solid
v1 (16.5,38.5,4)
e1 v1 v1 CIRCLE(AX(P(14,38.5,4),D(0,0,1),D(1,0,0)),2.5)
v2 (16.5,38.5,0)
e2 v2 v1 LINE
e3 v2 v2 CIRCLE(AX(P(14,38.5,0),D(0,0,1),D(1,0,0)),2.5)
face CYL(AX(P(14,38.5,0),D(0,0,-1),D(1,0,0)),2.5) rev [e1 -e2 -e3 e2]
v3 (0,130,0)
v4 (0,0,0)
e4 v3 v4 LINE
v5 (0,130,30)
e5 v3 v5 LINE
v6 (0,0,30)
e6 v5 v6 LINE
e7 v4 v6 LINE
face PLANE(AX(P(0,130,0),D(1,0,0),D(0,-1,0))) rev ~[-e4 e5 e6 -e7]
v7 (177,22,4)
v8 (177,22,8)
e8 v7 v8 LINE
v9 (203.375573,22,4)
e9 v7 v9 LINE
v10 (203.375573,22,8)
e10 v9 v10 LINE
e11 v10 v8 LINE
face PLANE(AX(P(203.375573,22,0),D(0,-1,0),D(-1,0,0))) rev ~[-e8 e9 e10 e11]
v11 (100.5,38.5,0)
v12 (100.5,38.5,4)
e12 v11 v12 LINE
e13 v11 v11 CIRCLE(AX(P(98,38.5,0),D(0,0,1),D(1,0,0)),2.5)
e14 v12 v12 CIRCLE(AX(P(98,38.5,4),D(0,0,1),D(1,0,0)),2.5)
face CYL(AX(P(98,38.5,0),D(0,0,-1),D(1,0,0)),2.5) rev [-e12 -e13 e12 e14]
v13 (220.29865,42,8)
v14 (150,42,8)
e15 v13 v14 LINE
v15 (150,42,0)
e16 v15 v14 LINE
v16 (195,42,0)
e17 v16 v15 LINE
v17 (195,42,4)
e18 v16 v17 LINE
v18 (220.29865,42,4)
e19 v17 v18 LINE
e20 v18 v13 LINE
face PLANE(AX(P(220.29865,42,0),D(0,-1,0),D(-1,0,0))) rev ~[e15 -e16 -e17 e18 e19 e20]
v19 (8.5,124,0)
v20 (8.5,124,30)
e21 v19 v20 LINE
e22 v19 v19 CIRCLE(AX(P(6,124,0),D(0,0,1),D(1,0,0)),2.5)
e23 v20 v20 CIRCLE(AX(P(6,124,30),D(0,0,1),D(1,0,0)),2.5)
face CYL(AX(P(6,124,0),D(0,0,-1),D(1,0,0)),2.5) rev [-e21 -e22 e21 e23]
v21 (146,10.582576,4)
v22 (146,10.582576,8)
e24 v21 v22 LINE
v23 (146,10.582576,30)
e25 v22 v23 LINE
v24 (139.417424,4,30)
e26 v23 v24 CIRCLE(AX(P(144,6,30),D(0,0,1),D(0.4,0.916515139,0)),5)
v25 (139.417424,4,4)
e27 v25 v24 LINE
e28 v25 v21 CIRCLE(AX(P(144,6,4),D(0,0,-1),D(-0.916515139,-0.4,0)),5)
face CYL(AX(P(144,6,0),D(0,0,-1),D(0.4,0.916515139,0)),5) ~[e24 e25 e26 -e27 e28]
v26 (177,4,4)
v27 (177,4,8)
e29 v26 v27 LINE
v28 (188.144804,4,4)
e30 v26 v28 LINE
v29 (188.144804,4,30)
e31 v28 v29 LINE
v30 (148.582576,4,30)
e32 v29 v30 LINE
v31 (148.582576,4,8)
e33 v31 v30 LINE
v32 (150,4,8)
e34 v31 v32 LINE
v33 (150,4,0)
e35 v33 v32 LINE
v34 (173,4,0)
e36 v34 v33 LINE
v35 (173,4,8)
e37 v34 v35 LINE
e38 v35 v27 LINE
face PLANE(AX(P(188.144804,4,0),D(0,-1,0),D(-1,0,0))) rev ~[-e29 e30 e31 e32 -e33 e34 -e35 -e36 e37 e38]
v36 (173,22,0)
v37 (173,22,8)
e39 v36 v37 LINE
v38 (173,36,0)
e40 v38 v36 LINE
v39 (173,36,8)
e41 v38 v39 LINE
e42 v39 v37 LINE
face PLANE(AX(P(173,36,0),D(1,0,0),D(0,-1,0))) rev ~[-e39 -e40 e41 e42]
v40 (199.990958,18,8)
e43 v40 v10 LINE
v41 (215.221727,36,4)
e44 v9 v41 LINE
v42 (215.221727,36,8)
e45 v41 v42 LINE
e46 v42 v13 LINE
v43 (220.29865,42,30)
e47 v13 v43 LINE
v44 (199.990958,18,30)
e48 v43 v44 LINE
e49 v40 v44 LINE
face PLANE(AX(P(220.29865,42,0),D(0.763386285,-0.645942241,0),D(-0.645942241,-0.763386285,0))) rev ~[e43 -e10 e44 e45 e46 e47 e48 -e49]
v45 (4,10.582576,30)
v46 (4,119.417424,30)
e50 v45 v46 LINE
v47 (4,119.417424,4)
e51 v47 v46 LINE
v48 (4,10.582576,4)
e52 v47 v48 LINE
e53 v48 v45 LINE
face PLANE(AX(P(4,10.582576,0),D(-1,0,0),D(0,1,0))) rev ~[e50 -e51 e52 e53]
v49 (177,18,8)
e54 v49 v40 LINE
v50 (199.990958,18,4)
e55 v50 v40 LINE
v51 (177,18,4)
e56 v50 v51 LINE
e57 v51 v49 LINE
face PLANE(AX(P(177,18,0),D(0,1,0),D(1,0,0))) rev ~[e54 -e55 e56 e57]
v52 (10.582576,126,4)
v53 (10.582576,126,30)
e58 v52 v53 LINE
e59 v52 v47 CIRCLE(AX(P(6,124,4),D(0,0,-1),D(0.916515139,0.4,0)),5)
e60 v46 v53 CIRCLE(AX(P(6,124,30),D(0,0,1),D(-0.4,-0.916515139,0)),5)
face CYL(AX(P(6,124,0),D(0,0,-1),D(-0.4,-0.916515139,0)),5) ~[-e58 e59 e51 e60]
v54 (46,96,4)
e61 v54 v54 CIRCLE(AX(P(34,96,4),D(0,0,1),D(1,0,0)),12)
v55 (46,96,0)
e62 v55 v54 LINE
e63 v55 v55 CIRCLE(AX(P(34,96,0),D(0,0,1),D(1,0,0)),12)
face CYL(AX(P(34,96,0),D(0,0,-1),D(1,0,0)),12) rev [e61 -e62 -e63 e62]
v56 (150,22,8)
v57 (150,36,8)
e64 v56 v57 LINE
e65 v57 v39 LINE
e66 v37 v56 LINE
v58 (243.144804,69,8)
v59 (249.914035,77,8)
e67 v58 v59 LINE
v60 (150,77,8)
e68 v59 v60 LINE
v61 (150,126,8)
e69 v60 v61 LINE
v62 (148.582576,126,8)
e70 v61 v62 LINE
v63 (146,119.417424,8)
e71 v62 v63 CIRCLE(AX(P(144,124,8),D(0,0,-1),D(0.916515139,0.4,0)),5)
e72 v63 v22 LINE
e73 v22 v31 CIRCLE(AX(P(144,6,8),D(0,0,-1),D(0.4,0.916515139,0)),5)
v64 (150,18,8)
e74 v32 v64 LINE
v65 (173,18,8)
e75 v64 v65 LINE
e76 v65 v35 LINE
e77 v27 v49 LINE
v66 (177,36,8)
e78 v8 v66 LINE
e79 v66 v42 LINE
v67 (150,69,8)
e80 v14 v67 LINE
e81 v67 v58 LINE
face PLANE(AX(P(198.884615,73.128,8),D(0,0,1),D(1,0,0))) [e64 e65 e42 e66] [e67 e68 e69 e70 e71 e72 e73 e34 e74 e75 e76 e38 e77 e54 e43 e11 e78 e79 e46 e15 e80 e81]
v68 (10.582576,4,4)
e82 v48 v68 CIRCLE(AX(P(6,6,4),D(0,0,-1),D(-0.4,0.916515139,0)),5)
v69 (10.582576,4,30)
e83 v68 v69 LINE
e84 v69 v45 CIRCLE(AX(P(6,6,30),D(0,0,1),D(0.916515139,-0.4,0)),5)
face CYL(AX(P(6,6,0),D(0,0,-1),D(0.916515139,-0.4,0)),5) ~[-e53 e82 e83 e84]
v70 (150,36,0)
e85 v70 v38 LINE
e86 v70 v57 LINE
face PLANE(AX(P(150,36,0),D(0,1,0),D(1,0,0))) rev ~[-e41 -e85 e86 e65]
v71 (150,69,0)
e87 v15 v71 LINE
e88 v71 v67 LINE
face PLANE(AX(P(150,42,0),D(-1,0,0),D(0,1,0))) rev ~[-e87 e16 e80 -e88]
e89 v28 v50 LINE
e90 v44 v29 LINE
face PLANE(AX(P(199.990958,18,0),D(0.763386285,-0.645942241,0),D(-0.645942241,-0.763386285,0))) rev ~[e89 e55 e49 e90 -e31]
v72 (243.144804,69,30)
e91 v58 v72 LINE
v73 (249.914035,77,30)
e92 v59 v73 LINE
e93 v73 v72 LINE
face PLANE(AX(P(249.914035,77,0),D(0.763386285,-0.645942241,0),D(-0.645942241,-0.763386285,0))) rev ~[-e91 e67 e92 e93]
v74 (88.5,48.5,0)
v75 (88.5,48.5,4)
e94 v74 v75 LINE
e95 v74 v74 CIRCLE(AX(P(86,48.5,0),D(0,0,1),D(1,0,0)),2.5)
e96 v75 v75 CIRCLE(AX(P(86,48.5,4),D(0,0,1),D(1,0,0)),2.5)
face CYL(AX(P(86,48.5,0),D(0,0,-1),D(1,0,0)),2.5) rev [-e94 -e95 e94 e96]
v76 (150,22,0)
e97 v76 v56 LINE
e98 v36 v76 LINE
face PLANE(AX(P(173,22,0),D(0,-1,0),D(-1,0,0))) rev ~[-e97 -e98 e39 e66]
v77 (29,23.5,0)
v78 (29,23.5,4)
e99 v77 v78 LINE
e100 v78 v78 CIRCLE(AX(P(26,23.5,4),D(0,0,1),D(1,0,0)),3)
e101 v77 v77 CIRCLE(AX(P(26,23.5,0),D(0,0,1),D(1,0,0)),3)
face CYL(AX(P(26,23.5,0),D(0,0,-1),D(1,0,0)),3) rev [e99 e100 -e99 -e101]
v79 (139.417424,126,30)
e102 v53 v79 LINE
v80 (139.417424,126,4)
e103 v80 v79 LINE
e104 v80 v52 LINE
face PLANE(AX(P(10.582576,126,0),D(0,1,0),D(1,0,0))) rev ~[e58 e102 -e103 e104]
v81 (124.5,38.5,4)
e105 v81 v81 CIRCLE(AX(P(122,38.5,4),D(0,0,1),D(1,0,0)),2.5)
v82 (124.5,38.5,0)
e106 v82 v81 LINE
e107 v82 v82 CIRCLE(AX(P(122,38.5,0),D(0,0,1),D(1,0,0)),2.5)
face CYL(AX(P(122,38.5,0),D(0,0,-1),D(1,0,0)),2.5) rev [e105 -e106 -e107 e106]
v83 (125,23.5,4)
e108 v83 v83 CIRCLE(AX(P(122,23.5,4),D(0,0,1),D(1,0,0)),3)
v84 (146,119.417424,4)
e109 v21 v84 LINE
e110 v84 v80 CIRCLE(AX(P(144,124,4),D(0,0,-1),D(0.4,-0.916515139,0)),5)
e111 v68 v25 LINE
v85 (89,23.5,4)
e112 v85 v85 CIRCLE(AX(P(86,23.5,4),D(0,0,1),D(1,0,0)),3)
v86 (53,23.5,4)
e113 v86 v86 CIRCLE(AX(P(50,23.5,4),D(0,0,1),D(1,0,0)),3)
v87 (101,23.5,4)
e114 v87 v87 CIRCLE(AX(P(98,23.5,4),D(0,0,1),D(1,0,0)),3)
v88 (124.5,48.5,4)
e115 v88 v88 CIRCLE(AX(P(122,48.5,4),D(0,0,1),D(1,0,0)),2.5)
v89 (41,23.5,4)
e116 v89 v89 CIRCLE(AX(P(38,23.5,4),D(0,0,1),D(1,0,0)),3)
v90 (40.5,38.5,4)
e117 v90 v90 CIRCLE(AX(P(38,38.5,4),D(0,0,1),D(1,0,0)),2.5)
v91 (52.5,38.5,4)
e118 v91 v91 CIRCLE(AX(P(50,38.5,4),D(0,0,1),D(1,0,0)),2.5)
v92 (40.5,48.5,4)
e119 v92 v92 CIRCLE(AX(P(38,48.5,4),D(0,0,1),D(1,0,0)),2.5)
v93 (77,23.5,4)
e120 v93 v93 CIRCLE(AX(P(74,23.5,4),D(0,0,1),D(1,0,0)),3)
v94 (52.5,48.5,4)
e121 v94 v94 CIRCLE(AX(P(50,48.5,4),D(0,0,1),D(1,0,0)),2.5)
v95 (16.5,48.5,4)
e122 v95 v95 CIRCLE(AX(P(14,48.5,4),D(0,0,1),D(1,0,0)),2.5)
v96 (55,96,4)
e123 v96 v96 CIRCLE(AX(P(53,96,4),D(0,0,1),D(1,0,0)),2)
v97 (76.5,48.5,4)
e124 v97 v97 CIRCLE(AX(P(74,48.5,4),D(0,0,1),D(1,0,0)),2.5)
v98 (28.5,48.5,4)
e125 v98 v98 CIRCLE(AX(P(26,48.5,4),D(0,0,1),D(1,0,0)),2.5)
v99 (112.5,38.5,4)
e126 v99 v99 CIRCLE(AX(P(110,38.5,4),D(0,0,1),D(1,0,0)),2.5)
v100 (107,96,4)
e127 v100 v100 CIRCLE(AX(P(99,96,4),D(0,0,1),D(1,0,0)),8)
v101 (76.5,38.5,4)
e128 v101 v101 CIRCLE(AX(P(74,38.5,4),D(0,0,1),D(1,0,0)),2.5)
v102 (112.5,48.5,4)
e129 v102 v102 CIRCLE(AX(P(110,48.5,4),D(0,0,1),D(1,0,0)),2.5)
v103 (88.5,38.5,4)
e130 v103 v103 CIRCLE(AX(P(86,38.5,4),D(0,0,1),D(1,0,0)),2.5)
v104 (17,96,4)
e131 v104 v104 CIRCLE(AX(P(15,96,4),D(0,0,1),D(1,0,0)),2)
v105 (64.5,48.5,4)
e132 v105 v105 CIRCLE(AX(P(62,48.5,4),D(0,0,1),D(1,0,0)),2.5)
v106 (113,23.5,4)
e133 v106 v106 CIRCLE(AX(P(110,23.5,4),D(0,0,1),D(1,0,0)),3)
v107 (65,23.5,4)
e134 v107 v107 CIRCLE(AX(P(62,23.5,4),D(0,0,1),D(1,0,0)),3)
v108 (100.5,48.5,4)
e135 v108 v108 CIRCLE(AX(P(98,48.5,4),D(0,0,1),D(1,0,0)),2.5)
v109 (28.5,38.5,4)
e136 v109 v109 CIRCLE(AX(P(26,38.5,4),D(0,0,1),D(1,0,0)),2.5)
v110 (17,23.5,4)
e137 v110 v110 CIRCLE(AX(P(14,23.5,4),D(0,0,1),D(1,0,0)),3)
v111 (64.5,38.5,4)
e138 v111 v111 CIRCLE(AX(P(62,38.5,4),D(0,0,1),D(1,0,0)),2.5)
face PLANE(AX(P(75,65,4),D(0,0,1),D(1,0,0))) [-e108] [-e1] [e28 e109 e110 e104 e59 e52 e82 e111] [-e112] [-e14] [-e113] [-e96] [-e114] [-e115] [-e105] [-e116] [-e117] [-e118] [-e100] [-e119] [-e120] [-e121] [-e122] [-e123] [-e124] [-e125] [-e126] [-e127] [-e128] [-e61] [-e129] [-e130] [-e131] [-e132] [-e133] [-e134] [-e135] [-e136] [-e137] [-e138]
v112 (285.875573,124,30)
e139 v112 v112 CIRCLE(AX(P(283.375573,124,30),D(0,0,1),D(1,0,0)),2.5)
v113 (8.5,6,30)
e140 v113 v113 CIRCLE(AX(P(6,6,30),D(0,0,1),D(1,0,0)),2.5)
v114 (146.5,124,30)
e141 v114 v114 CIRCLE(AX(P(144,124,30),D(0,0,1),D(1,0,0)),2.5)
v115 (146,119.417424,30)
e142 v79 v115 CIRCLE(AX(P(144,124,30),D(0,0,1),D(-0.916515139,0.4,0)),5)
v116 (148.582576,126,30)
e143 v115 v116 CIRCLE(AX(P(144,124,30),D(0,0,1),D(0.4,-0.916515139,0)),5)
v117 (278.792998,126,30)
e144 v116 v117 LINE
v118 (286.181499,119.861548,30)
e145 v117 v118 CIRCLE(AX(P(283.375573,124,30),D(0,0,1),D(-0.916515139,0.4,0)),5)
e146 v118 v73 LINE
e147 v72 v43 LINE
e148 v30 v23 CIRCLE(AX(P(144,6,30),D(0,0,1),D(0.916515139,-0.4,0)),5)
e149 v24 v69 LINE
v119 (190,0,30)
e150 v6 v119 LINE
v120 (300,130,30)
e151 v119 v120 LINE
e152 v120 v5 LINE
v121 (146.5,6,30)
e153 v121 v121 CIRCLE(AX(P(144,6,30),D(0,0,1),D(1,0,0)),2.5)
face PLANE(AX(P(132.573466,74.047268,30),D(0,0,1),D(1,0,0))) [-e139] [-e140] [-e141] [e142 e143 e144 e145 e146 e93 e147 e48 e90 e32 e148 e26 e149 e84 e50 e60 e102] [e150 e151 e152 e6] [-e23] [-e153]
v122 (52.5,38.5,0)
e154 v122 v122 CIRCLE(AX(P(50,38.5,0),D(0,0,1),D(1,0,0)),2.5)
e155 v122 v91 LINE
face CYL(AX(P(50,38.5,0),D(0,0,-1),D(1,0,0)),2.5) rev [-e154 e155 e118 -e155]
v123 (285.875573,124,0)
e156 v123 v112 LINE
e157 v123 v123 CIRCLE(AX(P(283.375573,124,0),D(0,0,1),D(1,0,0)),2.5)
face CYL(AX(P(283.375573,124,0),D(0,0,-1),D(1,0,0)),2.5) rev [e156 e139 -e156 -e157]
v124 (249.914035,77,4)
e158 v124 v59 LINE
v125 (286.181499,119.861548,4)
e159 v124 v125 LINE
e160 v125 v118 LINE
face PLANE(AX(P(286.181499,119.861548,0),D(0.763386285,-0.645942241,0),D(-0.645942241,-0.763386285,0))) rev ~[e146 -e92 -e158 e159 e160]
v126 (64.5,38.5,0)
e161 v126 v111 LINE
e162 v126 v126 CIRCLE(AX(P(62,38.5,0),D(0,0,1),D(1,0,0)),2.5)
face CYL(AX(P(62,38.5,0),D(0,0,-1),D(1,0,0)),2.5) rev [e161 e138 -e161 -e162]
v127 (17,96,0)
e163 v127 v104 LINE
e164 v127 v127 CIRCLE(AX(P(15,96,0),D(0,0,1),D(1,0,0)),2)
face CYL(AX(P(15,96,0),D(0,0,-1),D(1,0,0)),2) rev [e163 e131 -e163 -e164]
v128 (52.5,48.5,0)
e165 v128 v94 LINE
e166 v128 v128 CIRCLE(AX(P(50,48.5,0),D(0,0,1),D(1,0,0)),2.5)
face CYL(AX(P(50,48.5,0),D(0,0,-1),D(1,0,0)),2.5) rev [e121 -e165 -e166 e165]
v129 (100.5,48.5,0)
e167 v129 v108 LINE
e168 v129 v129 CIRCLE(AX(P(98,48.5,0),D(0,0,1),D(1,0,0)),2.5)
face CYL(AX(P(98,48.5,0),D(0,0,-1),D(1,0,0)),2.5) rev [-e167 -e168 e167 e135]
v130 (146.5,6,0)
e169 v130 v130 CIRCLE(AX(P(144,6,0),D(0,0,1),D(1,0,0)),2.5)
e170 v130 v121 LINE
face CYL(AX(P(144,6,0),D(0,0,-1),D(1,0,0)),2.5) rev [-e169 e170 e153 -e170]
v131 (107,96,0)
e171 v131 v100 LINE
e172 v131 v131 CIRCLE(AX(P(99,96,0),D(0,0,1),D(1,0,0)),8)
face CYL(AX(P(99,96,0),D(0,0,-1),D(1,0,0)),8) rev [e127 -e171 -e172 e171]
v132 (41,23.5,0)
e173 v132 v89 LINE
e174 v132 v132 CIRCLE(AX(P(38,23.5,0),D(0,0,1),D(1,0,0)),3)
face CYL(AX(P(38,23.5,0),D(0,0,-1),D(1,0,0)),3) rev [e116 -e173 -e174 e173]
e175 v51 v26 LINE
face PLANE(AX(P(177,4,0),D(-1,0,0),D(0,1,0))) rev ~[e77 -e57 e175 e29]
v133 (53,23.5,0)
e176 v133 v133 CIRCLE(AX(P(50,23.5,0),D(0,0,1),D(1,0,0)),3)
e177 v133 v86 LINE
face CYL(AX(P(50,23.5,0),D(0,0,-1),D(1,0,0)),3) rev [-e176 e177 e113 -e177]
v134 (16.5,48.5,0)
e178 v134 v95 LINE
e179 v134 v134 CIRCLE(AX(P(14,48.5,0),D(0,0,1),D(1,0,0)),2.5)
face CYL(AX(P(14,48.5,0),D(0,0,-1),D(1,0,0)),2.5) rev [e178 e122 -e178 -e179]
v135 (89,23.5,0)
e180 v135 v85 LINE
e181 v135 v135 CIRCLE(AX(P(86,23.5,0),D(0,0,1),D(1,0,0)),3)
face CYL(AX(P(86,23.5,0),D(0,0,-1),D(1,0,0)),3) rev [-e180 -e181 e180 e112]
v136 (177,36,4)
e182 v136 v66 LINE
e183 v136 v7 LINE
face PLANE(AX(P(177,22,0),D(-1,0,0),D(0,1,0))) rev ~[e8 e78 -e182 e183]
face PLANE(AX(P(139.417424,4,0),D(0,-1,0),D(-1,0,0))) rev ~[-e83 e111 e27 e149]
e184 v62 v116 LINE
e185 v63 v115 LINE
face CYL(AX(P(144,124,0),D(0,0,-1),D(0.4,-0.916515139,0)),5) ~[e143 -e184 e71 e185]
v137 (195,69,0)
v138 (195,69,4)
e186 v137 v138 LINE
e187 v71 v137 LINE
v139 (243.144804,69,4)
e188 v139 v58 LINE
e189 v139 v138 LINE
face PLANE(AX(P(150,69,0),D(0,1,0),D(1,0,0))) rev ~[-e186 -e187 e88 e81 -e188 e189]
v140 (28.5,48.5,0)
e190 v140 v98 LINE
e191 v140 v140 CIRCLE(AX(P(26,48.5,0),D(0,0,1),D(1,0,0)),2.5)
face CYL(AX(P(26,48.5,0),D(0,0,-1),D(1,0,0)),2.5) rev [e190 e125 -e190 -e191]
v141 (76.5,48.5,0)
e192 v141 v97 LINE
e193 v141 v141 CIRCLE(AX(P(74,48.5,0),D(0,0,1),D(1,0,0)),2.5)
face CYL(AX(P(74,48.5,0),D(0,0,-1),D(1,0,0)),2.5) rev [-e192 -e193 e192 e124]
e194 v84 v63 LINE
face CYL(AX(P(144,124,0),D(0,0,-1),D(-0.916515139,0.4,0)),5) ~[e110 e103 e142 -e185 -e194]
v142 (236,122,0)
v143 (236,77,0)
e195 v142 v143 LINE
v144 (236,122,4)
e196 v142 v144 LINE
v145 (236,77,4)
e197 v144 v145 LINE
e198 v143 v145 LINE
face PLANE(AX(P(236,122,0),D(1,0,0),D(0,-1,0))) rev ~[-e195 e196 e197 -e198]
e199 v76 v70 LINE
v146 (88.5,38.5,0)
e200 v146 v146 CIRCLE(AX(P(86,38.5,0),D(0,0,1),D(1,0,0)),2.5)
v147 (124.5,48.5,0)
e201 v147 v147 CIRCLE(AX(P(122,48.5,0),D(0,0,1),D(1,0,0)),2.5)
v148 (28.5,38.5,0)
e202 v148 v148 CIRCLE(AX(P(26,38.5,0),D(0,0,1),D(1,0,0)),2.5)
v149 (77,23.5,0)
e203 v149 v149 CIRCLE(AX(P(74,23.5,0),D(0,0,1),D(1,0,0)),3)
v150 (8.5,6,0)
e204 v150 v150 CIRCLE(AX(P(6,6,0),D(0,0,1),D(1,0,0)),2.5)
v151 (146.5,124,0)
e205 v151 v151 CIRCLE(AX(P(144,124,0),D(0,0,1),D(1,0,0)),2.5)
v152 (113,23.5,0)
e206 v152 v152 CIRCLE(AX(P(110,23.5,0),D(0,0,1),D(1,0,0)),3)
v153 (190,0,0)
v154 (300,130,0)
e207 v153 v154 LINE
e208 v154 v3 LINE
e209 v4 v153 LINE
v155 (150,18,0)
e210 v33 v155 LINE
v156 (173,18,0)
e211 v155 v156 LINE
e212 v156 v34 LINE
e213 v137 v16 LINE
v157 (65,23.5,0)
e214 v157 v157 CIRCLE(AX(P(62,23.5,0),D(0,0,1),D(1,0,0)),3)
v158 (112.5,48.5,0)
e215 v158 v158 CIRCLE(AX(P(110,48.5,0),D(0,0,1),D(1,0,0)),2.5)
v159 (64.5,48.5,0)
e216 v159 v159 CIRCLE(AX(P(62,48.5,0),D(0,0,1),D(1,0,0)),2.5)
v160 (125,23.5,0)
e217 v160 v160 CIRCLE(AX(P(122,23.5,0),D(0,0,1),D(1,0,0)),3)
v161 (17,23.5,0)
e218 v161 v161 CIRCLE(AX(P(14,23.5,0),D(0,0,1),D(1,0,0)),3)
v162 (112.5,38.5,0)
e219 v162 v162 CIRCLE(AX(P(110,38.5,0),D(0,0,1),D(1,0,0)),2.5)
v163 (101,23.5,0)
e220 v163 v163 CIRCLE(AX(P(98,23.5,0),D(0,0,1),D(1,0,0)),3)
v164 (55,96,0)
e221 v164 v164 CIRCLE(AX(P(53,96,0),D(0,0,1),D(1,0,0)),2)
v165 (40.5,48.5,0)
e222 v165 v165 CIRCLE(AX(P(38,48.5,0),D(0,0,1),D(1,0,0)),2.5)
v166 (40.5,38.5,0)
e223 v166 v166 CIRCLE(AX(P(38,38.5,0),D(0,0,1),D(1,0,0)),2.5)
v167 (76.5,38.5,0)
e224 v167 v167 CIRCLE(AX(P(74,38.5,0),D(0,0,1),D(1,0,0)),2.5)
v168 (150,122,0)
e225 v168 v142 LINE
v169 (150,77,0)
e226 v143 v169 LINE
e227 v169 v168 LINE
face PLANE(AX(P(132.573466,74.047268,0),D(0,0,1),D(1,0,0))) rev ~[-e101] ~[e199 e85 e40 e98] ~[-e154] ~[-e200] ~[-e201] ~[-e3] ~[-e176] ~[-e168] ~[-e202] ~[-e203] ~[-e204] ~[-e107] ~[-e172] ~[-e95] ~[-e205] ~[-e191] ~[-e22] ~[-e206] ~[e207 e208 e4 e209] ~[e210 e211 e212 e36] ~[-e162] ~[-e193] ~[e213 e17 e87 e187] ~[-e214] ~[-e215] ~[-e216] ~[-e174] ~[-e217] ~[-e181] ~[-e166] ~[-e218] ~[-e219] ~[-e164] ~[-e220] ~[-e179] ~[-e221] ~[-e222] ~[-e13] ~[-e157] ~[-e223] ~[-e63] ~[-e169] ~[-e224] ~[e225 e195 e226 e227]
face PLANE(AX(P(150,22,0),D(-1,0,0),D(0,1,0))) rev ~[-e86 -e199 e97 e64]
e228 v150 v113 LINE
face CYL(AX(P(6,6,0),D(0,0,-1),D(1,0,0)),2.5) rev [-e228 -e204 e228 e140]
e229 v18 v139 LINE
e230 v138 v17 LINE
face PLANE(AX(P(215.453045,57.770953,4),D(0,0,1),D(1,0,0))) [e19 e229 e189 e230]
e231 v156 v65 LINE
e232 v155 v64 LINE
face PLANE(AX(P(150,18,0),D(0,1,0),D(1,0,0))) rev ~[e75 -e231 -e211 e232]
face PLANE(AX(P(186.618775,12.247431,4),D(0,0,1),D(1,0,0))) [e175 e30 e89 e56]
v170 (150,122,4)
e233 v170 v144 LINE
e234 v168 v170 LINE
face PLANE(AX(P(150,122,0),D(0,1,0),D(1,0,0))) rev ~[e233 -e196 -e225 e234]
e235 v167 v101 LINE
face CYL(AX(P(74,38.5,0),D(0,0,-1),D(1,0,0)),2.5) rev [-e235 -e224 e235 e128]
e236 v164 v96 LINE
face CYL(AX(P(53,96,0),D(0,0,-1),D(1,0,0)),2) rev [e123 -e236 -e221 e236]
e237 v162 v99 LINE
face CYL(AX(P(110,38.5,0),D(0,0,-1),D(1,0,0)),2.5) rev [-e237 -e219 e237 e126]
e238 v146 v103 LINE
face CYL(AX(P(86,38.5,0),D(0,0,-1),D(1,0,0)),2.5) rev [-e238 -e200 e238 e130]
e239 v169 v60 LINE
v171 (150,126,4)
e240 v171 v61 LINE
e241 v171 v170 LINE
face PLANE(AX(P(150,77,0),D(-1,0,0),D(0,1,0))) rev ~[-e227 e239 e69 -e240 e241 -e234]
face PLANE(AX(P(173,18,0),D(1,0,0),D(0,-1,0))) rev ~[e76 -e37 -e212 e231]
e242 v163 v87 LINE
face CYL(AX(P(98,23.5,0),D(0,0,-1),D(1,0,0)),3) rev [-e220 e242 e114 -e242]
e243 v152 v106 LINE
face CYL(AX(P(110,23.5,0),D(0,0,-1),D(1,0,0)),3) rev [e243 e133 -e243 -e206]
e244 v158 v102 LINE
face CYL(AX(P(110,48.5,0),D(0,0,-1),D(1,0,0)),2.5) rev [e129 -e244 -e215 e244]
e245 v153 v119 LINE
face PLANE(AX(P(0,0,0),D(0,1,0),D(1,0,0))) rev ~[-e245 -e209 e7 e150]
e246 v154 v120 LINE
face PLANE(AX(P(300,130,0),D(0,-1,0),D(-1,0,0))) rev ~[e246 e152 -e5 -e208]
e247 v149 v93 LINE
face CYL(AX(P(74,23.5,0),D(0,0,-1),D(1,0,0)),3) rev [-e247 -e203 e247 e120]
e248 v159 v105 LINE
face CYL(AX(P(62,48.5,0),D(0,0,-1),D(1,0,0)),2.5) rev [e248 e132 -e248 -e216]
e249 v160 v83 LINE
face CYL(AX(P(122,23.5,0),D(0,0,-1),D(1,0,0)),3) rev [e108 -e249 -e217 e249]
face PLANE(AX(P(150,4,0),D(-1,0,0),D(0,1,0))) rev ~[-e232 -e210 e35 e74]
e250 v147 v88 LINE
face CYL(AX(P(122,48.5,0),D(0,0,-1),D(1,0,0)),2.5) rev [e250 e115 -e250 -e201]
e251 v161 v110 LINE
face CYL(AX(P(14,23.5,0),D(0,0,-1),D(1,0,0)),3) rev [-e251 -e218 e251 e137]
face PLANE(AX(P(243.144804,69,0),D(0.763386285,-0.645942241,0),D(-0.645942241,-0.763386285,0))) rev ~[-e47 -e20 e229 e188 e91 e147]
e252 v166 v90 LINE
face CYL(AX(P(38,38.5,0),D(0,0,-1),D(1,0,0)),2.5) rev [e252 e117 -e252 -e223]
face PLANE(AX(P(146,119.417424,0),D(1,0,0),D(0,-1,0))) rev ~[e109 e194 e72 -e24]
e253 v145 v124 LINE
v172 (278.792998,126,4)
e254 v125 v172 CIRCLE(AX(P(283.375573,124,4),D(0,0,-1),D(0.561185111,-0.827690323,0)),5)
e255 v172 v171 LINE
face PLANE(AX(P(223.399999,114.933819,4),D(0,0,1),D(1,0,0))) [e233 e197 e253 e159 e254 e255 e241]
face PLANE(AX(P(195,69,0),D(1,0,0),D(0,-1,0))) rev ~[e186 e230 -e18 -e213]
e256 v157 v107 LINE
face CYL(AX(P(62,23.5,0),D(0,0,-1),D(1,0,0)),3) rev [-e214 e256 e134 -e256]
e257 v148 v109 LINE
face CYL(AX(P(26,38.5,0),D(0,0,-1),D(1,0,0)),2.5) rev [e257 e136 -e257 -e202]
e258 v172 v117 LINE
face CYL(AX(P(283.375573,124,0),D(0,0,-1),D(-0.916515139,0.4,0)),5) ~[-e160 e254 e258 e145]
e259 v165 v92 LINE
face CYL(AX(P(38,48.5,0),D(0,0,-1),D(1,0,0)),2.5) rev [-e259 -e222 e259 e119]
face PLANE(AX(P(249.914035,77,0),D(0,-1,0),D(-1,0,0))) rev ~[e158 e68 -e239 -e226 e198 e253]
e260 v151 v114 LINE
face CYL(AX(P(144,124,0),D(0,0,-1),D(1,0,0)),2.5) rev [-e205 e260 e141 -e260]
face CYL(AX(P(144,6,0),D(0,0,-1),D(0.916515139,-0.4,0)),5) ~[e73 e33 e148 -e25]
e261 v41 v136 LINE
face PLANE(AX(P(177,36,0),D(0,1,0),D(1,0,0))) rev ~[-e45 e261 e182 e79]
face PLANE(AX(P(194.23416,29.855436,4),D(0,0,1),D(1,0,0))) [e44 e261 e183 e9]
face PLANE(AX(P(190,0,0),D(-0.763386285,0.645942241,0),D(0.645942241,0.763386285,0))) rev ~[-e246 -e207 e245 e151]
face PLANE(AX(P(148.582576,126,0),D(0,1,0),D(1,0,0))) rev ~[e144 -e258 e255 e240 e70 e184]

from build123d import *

# Parameters (mm, degrees)
F1_DEPTH = 4
F0_R     = 3
F0_R_2   = 2.5
F0_R_3   = 2
F0_R_4   = 12
F0_R_5   = 8
F2_DEPTH = 8
F3_DEPTH = 30


with BuildPart() as f1:
    # F0 (on Top) → F1 (new body)
    with BuildSketch(Plane.XY):
        with BuildLine():
            Line((236, 122), (236, 77))
            Line((236, 77), (249.9140349643, 77))
            Line((249.9140349643, 77), (286.1814989821, 119.8615483846))
            ThreePointArc((286.1814989821, 119.8615483846), (280.1803788328, 120.1541279906), (278.7929977309, 126))
            Line((278.7929977309, 126), (150, 126))
            Line((150, 126), (150, 122))
            Line((150, 122), (236, 122))
        make_face()
    extrude(amount=F1_DEPTH)



with BuildPart() as f1b:
    # F0 (on Top) → F1, piece 2 (new body)
    with BuildSketch(Plane.XY):
        Polygon((220.2986503489, 42), (243.1448041951, 69), (195, 69), (195, 42), align=None)
    extrude(amount=F1_DEPTH)


with BuildPart() as f1c:
    # F0 (on Top) → F1, piece 3 (new body)
    with BuildSketch(Plane.XY):
        Polygon((203.3755734259, 22), (215.221727272, 36), (177, 36), (177, 22), align=None)
    extrude(amount=F1_DEPTH)


with BuildPart() as f1d:
    # F0 (on Top) → F1, piece 4 (new body)
    with BuildSketch(Plane.XY):
        Polygon((188.1448041951, 4), (199.9909580413, 18), (177, 18), (177, 4), align=None)
    extrude(amount=F1_DEPTH)


with BuildPart() as f1e:
    # F0 (on Top) → F1, piece 5 (new body)
    with BuildSketch(Plane.XY):
        with BuildLine():
            Line((146, 10.582575695), (146, 119.417424305))
            ThreePointArc((146, 119.417424305), (140.4644660941, 120.4644660941), (139.417424305, 126))
            Line((139.417424305, 126), (10.582575695, 126))
            ThreePointArc((10.582575695, 126), (9.5355339059, 120.4644660941), (4, 119.417424305))
            Line((4, 119.417424305), (4, 10.582575695))
            ThreePointArc((4, 10.582575695), (9.5355339059, 9.5355339059), (10.582575695, 4))
            Line((10.582575695, 4), (139.417424305, 4))
            ThreePointArc((139.417424305, 4), (140.4644660941, 9.5355339059), (146, 10.582575695))
        make_face()
        with Locations((14, 23.5)):
            Circle(F0_R, mode=Mode.SUBTRACT)
        with Locations((26, 23.5)):
            Circle(F0_R, mode=Mode.SUBTRACT)
        with Locations((38, 23.5)):
            Circle(F0_R, mode=Mode.SUBTRACT)
        with Locations((50, 23.5)):
            Circle(F0_R, mode=Mode.SUBTRACT)
        with Locations((62, 23.5)):
            Circle(F0_R, mode=Mode.SUBTRACT)
        with Locations((74, 23.5)):
            Circle(F0_R, mode=Mode.SUBTRACT)
        with Locations((86, 23.5)):
            Circle(F0_R, mode=Mode.SUBTRACT)
        with Locations((98, 23.5)):
            Circle(F0_R, mode=Mode.SUBTRACT)
        with Locations((110, 23.5)):
            Circle(F0_R, mode=Mode.SUBTRACT)
        with Locations((122, 23.5)):
            Circle(F0_R, mode=Mode.SUBTRACT)
        with Locations((14, 38.5)):
            Circle(F0_R_2, mode=Mode.SUBTRACT)
        with Locations((26, 38.5)):
            Circle(F0_R_2, mode=Mode.SUBTRACT)
        with Locations((14, 48.5)):
            Circle(F0_R_2, mode=Mode.SUBTRACT)
        with Locations((26, 48.5)):
            Circle(F0_R_2, mode=Mode.SUBTRACT)
        with Locations((38, 38.5)):
            Circle(F0_R_2, mode=Mode.SUBTRACT)
        with Locations((50, 38.5)):
            Circle(F0_R_2, mode=Mode.SUBTRACT)
        with Locations((62, 38.5)):
            Circle(F0_R_2, mode=Mode.SUBTRACT)
        with Locations((74, 38.5)):
            Circle(F0_R_2, mode=Mode.SUBTRACT)
        with Locations((38, 48.5)):
            Circle(F0_R_2, mode=Mode.SUBTRACT)
        with Locations((50, 48.5)):
            Circle(F0_R_2, mode=Mode.SUBTRACT)
        with Locations((62, 48.5)):
            Circle(F0_R_2, mode=Mode.SUBTRACT)
        with Locations((74, 48.5)):
            Circle(F0_R_2, mode=Mode.SUBTRACT)
        with Locations((86, 38.5)):
            Circle(F0_R_2, mode=Mode.SUBTRACT)
        with Locations((98, 38.5)):
            Circle(F0_R_2, mode=Mode.SUBTRACT)
        with Locations((110, 38.5)):
            Circle(F0_R_2, mode=Mode.SUBTRACT)
        with Locations((86, 48.5)):
            Circle(F0_R_2, mode=Mode.SUBTRACT)
        with Locations((98, 48.5)):
            Circle(F0_R_2, mode=Mode.SUBTRACT)
        with Locations((110, 48.5)):
            Circle(F0_R_2, mode=Mode.SUBTRACT)
        with Locations((122, 38.5)):
            Circle(F0_R_2, mode=Mode.SUBTRACT)
        with Locations((122, 48.5)):
            Circle(F0_R_2, mode=Mode.SUBTRACT)
        with Locations((15, 96)):
            Circle(F0_R_3, mode=Mode.SUBTRACT)
        with Locations((34, 96)):
            Circle(F0_R_4, mode=Mode.SUBTRACT)
        with Locations((53, 96)):
            Circle(F0_R_3, mode=Mode.SUBTRACT)
        with Locations((99, 96)):
            Circle(F0_R_5, mode=Mode.SUBTRACT)
    extrude(amount=F1_DEPTH)


with BuildPart() as f1_1:
    add(f1.part)

    add(f1b.part)  # F2 merges F1b

    add(f1c.part)  # F2 merges F1c

    add(f1d.part)  # F2 merges F1d

    add(f1e.part)  # F2 merges F1e
    # F0 (on Top) → F2 (join)
    with BuildSketch(Plane.XY):
        Polygon((249.9140349643, 77), (236, 77), (150, 77), (150, 69), (195, 69), (243.1448041951, 69), align=None)
        with BuildLine():
            Line((150, 69), (150, 77))
            Line((150, 77), (150, 122))
            Line((150, 122), (150, 126))
            Line((150, 126), (148.582575695, 126))
            ThreePointArc((148.582575695, 126), (148.6545839116, 122.1738432132), (146, 119.417424305))
            Line((146, 119.417424305), (146, 10.582575695))
            ThreePointArc((146, 10.582575695), (148.6545839116, 7.8261567868), (148.582575695, 4))
            Line((148.582575695, 4), (150, 4))
            Line((150, 4), (150, 18))
            Line((150, 18), (150, 22))
            Line((150, 22), (150, 36))
            Line((150, 36), (150, 42))
            Line((150, 42), (150, 69))
        make_face()
        Polygon((195, 42), (150, 42), (150, 36), (173, 36), (173, 22), (150, 22), (150, 18), (173, 18), (173, 4), (177, 4), (177, 18), (199.9909580413, 18), (203.3755734259, 22), (177, 22), (177, 36), (215.221727272, 36), (220.2986503489, 42), align=None)
    extrude(amount=F2_DEPTH)

    # F0 (on Top) → F3 (join)
    with BuildSketch(Plane.XY):
        Polygon((0, 130), (0, 0), (190, 0), (300, 130), align=None)
        with Locations((6, 6)):
            Circle(F0_R_2, mode=Mode.SUBTRACT)
        with Locations((144, 6)):
            Circle(F0_R_2, mode=Mode.SUBTRACT)
        with BuildLine():
            Line((286.1814989821, 119.8615483846), (249.9140349643, 77))
            Line((249.9140349643, 77), (243.1448041951, 69))
            Line((243.1448041951, 69), (220.2986503489, 42))
            Line((220.2986503489, 42), (215.221727272, 36))
            Line((215.221727272, 36), (203.3755734259, 22))
            Line((203.3755734259, 22), (199.9909580413, 18))
            Line((199.9909580413, 18), (188.1448041951, 4))
            Line((188.1448041951, 4), (177, 4))
            Line((177, 4), (173, 4))
            Line((173, 4), (150, 4))
            Line((150, 4), (148.582575695, 4))
            ThreePointArc((148.582575695, 4), (148.6545839116, 7.8261567868), (146, 10.582575695))
            ThreePointArc((146, 10.582575695), (140.4644660941, 9.5355339059), (139.417424305, 4))
            Line((139.417424305, 4), (10.582575695, 4))
            ThreePointArc((10.582575695, 4), (9.5355339059, 9.5355339059), (4, 10.582575695))
            Line((4, 10.582575695), (4, 119.417424305))
            ThreePointArc((4, 119.417424305), (9.5355339059, 120.4644660941), (10.582575695, 126))
            Line((10.582575695, 126), (139.417424305, 126))
            ThreePointArc((139.417424305, 126), (140.4644660941, 120.4644660941), (146, 119.417424305))
            ThreePointArc((146, 119.417424305), (148.6545839116, 122.1738432132), (148.582575695, 126))
            Line((148.582575695, 126), (150, 126))
            Line((150, 126), (278.7929977309, 126))
            ThreePointArc((278.7929977309, 126), (280.1803788328, 120.1541279906), (286.1814989821, 119.8615483846))
        make_face(mode=Mode.SUBTRACT)
        with Locations((6, 124)):
            Circle(F0_R_2, mode=Mode.SUBTRACT)
        with Locations((144, 124)):
            Circle(F0_R_2, mode=Mode.SUBTRACT)
        with Locations((283.3755734259, 124)):
            Circle(F0_R_2, mode=Mode.SUBTRACT)
    extrude(amount=F3_DEPTH)


solid = f1_1.part
